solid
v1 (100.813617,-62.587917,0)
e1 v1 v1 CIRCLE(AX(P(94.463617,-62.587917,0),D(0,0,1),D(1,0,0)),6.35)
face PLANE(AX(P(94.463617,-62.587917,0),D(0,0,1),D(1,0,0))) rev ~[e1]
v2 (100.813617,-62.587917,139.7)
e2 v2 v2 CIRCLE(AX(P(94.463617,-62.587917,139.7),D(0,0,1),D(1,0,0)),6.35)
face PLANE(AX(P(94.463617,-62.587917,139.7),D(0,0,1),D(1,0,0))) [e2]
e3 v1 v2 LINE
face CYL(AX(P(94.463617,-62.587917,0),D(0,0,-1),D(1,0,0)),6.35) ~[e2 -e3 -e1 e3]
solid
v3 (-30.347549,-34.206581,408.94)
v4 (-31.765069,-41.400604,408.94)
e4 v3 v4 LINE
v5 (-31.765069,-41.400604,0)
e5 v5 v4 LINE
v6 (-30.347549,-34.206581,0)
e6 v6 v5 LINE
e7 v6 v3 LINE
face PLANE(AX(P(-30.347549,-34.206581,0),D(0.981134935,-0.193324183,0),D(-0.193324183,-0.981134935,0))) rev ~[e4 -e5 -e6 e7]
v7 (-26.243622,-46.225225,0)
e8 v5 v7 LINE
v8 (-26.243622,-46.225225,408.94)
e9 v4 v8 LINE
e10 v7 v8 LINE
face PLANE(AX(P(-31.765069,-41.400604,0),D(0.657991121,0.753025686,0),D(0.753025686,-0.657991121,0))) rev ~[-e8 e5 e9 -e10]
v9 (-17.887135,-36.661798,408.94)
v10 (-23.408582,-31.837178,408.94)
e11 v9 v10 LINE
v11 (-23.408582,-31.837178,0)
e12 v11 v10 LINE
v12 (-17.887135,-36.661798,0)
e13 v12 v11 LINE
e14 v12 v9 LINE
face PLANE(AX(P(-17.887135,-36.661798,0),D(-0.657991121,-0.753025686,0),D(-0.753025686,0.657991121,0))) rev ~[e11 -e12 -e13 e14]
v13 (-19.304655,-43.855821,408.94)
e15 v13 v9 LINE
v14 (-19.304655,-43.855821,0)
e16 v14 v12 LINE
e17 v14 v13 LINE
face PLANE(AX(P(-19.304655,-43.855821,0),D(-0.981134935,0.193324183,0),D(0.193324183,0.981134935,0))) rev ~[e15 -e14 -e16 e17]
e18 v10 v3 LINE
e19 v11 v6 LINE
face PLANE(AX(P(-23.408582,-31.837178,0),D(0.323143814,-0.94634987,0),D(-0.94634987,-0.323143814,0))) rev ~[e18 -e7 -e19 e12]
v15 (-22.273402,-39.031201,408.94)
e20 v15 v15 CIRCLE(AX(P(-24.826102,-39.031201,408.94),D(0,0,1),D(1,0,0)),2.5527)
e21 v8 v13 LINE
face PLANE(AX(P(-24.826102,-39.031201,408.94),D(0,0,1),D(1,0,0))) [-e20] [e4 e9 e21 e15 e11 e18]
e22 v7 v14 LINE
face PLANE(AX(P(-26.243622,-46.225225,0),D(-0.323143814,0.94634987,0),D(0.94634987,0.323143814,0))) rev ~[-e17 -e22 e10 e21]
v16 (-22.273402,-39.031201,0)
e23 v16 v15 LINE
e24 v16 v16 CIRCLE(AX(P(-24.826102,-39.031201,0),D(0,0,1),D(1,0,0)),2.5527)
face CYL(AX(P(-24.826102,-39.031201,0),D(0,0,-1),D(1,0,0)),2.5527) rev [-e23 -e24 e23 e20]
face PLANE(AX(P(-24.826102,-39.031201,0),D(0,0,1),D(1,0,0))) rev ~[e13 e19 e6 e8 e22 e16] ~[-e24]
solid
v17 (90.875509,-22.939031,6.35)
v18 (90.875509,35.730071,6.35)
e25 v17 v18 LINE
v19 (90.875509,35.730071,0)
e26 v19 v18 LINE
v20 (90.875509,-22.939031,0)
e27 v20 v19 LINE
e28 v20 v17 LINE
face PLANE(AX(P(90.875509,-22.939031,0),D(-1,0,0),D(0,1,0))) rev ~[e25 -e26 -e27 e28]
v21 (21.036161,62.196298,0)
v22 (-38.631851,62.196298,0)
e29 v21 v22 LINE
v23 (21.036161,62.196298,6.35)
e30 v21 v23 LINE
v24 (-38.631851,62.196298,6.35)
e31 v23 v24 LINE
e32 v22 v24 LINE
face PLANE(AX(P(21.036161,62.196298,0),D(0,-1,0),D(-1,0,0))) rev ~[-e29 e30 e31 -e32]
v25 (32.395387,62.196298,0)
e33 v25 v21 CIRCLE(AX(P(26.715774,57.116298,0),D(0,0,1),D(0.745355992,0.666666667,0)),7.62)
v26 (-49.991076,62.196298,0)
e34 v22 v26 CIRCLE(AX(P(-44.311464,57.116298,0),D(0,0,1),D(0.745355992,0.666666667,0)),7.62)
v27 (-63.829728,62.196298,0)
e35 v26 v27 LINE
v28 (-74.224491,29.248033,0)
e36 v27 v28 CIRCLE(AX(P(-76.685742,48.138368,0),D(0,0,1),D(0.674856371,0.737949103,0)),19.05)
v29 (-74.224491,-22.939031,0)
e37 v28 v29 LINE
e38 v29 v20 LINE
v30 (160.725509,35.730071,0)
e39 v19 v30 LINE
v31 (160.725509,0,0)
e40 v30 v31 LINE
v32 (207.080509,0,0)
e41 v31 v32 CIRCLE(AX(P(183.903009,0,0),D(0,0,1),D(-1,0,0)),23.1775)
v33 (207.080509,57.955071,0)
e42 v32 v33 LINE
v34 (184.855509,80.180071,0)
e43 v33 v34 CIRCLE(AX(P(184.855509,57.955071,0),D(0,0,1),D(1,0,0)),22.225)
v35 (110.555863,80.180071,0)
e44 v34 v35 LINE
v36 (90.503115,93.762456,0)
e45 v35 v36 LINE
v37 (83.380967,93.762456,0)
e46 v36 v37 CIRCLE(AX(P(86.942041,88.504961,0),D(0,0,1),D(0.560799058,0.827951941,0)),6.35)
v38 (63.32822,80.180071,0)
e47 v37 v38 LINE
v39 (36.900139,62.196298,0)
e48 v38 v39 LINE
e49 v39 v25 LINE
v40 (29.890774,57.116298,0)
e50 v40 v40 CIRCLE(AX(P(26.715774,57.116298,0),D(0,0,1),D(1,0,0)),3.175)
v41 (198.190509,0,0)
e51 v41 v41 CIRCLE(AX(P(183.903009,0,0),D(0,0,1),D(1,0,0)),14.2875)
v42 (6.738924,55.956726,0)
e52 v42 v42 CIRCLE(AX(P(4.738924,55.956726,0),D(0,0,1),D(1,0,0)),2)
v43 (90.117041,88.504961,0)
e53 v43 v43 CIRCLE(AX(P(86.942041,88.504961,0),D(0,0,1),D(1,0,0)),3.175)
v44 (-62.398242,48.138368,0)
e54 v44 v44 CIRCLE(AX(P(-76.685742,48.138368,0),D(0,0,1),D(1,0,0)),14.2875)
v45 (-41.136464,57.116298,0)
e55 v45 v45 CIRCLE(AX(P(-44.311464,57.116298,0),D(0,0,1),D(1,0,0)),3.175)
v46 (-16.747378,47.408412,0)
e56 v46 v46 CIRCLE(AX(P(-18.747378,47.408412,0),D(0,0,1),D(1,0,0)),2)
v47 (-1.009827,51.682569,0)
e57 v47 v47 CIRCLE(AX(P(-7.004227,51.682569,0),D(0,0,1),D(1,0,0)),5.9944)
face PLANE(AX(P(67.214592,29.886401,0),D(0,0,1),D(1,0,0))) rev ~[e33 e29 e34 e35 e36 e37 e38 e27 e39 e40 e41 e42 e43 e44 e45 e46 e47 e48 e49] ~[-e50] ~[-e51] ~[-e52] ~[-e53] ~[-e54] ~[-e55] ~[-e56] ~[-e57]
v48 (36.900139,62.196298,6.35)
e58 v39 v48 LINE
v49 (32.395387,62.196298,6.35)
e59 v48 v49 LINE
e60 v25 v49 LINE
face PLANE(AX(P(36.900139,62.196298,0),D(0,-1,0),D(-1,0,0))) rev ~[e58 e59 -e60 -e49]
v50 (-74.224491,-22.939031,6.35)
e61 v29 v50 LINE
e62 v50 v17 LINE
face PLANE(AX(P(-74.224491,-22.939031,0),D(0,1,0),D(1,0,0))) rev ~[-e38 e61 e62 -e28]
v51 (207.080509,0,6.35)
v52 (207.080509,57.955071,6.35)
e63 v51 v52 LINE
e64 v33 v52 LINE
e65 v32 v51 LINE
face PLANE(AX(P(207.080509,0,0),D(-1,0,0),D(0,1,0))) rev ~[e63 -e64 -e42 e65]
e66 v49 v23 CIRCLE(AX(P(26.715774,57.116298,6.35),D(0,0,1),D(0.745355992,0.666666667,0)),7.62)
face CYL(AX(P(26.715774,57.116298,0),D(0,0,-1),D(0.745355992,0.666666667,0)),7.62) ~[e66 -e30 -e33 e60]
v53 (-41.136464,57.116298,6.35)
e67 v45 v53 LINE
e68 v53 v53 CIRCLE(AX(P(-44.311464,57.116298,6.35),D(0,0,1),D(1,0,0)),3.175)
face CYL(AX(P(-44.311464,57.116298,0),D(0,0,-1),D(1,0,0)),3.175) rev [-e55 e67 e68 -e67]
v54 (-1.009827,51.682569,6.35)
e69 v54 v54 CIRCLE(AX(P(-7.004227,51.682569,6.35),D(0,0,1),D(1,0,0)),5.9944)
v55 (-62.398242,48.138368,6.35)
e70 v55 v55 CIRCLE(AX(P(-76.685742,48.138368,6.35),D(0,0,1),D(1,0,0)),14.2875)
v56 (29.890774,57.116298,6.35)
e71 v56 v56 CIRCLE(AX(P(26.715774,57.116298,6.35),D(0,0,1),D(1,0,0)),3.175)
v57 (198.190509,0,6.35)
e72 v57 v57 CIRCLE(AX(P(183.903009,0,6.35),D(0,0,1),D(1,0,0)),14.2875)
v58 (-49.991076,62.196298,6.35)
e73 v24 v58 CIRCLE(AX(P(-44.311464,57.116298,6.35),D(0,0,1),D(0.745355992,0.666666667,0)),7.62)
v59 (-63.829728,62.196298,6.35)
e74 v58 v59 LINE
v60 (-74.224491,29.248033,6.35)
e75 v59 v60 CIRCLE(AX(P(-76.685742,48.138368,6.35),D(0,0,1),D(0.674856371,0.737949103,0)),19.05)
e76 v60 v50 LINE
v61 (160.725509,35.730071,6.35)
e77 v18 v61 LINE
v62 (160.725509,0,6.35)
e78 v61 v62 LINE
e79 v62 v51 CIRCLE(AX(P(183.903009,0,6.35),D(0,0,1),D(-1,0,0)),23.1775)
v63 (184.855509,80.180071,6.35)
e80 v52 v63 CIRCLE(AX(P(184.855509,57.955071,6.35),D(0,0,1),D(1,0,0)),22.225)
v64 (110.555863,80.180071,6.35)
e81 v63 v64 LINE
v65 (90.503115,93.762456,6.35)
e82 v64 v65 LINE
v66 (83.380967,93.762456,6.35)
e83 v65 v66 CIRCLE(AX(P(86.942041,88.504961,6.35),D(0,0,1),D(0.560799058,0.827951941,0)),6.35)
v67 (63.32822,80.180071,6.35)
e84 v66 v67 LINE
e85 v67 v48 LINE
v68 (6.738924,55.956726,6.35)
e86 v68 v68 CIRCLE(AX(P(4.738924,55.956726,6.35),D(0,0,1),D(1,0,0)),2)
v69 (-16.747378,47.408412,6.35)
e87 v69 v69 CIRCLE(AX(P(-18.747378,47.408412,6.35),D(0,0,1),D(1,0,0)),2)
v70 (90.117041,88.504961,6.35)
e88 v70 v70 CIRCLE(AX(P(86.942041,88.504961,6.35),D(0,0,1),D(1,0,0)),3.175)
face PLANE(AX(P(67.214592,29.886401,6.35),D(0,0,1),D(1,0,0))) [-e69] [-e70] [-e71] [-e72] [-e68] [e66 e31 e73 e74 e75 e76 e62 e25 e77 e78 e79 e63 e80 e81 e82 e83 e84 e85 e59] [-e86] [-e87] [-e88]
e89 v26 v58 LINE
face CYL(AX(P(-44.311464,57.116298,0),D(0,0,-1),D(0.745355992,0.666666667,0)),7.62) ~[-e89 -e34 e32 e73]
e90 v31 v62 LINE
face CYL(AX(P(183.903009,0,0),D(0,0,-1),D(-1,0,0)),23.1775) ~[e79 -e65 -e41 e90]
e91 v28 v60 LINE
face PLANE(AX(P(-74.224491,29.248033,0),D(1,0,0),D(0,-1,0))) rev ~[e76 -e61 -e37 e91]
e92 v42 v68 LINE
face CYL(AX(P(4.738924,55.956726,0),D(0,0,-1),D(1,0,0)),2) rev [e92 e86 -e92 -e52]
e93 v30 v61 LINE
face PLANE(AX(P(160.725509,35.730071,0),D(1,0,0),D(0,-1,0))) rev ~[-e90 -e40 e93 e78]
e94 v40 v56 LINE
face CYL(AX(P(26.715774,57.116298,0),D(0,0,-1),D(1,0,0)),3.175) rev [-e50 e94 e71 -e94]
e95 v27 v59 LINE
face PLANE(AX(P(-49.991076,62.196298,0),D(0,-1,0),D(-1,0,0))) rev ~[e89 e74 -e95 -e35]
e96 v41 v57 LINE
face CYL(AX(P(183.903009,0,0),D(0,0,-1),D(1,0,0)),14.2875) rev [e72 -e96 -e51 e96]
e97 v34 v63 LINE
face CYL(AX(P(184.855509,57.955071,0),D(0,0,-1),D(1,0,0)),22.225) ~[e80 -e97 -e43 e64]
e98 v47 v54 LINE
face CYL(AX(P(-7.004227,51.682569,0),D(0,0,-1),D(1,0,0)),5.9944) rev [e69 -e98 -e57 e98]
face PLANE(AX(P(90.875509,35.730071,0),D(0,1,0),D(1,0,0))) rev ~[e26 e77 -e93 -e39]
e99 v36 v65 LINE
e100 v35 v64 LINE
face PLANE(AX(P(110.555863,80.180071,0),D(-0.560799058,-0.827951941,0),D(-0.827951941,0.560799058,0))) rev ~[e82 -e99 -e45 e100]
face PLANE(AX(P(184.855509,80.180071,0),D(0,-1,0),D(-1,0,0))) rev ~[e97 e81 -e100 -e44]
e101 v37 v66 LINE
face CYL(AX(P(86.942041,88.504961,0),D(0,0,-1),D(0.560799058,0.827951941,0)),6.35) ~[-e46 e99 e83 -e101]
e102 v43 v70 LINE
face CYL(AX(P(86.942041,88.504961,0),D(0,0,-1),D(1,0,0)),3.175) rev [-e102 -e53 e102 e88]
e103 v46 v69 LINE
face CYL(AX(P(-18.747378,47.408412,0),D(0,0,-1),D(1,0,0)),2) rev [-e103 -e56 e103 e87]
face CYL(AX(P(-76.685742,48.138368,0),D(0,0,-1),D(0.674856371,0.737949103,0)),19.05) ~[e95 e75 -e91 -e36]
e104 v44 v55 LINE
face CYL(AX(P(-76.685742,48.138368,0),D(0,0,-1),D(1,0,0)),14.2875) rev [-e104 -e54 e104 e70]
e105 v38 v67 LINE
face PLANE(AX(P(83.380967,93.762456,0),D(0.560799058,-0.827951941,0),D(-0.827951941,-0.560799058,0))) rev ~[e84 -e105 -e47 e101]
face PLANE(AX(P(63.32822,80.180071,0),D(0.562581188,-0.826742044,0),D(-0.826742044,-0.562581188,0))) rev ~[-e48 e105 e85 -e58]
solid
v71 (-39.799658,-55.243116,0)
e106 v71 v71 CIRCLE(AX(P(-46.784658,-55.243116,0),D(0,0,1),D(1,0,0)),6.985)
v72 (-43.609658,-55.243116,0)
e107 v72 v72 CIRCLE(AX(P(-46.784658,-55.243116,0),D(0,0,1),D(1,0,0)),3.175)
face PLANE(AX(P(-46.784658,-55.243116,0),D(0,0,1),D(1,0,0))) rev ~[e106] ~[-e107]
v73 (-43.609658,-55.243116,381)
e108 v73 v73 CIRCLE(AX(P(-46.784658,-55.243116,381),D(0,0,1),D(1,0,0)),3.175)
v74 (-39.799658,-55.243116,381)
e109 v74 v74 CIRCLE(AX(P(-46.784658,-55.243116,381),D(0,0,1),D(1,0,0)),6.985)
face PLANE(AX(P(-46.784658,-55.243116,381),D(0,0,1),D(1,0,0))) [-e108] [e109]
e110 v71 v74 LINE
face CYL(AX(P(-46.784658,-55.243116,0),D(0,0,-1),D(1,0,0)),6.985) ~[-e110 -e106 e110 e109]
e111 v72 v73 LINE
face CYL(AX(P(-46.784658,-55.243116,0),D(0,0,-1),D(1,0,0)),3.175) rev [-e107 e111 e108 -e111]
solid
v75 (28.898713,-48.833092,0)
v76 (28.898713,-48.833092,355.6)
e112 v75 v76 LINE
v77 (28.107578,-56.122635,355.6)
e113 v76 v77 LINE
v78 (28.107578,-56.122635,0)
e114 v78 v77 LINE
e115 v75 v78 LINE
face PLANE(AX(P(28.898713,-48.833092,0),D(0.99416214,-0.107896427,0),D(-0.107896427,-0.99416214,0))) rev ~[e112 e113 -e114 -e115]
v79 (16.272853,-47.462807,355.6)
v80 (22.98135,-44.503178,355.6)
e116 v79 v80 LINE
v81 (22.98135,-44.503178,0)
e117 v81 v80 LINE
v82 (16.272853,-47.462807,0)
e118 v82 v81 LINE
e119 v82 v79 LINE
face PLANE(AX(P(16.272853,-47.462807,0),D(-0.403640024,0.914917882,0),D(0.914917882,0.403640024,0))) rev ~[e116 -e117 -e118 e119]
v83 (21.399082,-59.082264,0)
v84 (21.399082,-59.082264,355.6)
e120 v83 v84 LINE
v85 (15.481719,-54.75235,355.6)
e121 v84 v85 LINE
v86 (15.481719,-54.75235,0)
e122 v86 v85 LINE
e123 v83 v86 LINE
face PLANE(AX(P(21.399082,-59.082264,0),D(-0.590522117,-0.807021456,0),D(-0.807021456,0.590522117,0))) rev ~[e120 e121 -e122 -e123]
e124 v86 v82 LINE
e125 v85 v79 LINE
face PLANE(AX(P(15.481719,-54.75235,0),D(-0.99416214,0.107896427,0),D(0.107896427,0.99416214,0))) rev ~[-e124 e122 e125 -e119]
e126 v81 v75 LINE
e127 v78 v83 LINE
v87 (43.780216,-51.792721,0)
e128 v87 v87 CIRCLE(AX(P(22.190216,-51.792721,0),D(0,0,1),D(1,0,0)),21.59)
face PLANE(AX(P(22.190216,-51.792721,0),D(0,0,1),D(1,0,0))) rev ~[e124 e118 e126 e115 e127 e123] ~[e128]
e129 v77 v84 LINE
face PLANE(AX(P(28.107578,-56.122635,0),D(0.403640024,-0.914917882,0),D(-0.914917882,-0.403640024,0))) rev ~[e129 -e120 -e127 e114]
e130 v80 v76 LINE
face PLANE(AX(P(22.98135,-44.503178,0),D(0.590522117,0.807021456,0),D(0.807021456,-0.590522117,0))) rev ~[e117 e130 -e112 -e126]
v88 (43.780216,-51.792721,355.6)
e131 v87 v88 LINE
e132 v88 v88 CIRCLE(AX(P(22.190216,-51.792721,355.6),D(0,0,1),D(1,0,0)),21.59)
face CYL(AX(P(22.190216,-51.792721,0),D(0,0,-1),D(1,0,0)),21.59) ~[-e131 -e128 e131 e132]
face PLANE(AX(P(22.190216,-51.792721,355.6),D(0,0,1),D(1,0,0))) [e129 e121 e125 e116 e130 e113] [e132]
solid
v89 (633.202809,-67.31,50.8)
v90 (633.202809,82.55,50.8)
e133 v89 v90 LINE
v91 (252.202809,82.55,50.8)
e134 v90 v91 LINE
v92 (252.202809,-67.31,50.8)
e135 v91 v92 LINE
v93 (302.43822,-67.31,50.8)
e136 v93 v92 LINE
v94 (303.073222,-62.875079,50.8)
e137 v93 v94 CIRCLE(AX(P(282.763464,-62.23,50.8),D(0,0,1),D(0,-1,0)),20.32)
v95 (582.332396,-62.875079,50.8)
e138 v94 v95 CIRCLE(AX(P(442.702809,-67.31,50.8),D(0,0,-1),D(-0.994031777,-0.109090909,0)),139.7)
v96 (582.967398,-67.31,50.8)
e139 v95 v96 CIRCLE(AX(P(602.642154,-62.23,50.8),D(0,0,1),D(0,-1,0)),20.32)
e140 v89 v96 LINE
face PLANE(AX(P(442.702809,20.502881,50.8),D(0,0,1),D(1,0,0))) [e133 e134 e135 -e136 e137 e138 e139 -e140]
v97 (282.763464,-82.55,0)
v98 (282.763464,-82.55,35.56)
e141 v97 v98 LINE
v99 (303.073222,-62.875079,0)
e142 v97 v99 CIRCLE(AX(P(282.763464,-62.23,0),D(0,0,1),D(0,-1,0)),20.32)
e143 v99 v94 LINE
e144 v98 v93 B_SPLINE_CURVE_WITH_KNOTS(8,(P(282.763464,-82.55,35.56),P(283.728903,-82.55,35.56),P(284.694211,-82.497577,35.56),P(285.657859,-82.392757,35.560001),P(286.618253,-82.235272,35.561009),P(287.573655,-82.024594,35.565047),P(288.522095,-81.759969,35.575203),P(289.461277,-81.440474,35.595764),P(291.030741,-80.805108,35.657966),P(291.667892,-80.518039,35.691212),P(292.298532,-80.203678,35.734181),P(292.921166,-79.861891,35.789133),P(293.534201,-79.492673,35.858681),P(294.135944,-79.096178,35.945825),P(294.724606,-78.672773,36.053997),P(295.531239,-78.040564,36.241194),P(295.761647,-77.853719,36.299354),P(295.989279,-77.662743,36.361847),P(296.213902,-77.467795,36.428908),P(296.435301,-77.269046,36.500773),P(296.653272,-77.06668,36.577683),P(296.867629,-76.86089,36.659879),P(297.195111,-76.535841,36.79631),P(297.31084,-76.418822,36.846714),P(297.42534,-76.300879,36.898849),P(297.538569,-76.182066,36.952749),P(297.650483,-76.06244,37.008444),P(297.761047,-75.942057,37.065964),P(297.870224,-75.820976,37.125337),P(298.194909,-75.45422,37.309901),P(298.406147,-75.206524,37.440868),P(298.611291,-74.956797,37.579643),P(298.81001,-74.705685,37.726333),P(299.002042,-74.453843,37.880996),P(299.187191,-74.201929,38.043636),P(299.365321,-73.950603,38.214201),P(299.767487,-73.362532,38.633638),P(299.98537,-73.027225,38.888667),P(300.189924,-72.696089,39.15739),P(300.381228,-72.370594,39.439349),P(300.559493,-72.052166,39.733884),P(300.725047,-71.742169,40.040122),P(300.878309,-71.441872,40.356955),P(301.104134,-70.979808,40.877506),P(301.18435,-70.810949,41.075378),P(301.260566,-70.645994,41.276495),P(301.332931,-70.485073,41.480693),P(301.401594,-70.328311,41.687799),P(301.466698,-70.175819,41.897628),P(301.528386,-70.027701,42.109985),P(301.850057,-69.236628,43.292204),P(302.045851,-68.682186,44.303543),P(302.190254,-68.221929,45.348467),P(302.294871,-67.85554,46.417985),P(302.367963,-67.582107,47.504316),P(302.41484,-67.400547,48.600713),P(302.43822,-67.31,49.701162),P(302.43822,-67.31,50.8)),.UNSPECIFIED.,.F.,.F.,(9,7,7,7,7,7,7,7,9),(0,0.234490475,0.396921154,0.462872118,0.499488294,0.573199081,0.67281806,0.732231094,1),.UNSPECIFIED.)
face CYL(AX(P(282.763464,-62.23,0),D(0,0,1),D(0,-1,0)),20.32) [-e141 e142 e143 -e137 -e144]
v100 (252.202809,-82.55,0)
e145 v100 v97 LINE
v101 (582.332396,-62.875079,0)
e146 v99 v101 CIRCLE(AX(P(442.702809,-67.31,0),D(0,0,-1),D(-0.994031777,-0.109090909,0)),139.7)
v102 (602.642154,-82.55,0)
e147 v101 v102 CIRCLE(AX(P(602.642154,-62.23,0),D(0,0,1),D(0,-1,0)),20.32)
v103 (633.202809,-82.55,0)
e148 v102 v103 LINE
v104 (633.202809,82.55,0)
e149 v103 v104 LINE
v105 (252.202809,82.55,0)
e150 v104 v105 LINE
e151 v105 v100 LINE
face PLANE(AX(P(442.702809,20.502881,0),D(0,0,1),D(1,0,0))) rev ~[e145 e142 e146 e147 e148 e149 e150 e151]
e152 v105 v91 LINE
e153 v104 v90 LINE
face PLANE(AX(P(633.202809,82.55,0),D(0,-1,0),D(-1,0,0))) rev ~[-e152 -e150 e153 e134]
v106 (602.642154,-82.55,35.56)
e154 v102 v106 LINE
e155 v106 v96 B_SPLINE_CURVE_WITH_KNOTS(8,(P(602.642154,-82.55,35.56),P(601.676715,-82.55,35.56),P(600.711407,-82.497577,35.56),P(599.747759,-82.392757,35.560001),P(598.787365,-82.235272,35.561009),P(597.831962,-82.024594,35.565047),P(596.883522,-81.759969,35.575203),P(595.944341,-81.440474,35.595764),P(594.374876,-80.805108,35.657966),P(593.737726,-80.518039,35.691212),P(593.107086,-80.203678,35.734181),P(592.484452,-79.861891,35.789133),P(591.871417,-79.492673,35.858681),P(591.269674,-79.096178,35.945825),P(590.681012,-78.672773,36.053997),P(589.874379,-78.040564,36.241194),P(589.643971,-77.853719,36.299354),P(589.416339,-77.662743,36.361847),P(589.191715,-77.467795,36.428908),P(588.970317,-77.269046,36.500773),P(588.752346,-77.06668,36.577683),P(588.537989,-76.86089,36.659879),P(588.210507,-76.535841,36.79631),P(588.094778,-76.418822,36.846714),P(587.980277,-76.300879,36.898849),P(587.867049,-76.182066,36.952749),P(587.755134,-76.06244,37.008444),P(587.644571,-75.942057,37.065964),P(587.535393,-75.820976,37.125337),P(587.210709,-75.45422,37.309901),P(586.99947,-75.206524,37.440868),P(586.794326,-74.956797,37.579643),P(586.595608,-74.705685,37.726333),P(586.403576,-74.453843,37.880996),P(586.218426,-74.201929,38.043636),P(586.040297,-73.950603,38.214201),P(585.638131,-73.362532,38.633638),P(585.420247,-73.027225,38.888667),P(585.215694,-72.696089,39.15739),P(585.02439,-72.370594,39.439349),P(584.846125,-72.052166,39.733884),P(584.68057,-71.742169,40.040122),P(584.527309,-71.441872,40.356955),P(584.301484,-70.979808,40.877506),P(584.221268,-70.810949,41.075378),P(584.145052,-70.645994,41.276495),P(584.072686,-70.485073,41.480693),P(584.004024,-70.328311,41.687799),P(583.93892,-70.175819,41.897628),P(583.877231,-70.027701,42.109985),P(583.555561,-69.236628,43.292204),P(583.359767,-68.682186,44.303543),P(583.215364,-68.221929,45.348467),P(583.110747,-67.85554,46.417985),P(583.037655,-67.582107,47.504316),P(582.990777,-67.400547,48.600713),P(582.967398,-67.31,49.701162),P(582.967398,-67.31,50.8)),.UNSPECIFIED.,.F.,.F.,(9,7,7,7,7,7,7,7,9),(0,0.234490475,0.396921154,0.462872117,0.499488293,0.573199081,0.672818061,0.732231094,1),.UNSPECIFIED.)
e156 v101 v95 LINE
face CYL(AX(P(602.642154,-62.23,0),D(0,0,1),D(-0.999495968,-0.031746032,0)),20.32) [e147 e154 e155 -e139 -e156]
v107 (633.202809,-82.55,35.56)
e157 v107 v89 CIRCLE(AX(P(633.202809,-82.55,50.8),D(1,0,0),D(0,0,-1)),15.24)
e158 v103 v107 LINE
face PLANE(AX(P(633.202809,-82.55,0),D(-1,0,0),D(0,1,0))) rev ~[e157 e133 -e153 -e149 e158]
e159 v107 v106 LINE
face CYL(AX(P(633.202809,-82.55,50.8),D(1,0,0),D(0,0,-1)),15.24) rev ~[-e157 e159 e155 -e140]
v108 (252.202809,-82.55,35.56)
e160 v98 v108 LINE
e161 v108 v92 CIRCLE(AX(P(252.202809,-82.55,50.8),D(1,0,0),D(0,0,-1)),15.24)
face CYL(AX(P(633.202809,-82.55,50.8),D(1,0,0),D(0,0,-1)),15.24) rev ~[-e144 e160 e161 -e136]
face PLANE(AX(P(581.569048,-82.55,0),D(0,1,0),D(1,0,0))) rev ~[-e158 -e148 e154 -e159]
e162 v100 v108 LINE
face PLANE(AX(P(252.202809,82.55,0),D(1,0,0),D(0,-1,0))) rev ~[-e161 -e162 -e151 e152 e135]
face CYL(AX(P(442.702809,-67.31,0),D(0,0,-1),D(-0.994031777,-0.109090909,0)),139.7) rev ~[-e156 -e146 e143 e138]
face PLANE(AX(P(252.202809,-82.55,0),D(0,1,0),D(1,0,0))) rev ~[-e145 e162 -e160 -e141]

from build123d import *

# Parameters (mm, degrees)
F1_R      = 14.2875
F1_R_2    = 3.175
F1_R_3    = 2
F1_R_4    = 5.9944
F2_DEPTH  = 6.35
F3_R      = 6.985
F3_R_2    = 3.175
F4_DEPTH  = 381
F5_R      = 2.5527
F6_DEPTH  = 408.94
F7_R      = 21.59
F8_DEPTH  = 355.6
F10_DEPTH = 50.8
F11_R     = 20.32
F13_DEPTH = 381
F14_R     = 6.35
F15_DEPTH = 139.7


with BuildPart() as f2:
    # F1 (on Top) → F2 (new body)
    with BuildSketch(Plane.XY):
        with BuildLine():
            Line((-49.9910764957, 62.1962980512), (-63.8297284243, 62.1962980512))
            ThreePointArc((-63.8297284243, 62.1962980512), (-94.8530671804, 53.8699299137), (-74.2244912377, 29.2480329821))
            Line((-74.2244912377, 29.2480329821), (-74.2244912377, -22.9390313281))
            Line((-74.2244912377, -22.9390313281), (90.8755087623, -22.9390313281))
            Line((90.8755087623, -22.9390313281), (90.8755087623, 35.7300707037))
            Line((90.8755087623, 35.7300707037), (160.7255087623, 35.7300707037))
            Line((160.7255087623, 35.7300707037), (160.7255087623, 0))
            ThreePointArc((160.7255087623, 0), (183.9030087623, -23.1775), (207.0805087623, 0))
            Line((207.0805087623, 0), (207.0805087623, 57.9550707037))
            ThreePointArc((207.0805087623, 57.9550707037), (200.5709569742, 73.6705189156), (184.8555087623, 80.1800707037))
            Line((184.8555087623, 80.1800707037), (110.5558629778, 80.1800707037))
            Line((110.5558629778, 80.1800707037), (90.5031153064, 93.7624556725))
            ThreePointArc((90.5031153064, 93.7624556725), (86.9420412896, 94.8549608464), (83.3809672727, 93.7624556725))
            Line((83.3809672727, 93.7624556725), (63.3282196013, 80.1800707037))
            Line((63.3282196013, 80.1800707037), (36.9001390489, 62.1962980512))
            Line((36.9001390489, 62.1962980512), (32.3953867519, 62.1962980512))
            ThreePointArc((32.3953867519, 62.1962980512), (26.7157740891, 64.7362980512), (21.0361614262, 62.1962980512))
            Line((21.0361614262, 62.1962980512), (-38.63185117, 62.1962980512))
            ThreePointArc((-38.63185117, 62.1962980512), (-44.3114638329, 64.7362980512), (-49.9910764957, 62.1962980512))
        make_face()
        with Locations((183.9030087623, 0)):
            Circle(F1_R, mode=Mode.SUBTRACT)
        with Locations((-76.6857422854, 48.1383676345)):
            Circle(F1_R, mode=Mode.SUBTRACT)
        with Locations((-44.3114638329, 57.1162980512)):
            Circle(F1_R_2, mode=Mode.SUBTRACT)
        with Locations((-18.747377767, 47.4084117594)):
            Circle(F1_R_3, mode=Mode.SUBTRACT)
        with Locations((-7.0042270236, 51.6825690866)):
            Circle(F1_R_4, mode=Mode.SUBTRACT)
        with Locations((4.7389237199, 55.9567264137)):
            Circle(F1_R_3, mode=Mode.SUBTRACT)
        with Locations((26.7157740891, 57.1162980512)):
            Circle(F1_R_2, mode=Mode.SUBTRACT)
        with Locations((86.9420412896, 88.5049608464)):
            Circle(F1_R_2, mode=Mode.SUBTRACT)
    extrude(amount=F2_DEPTH)


with BuildPart() as f4:
    # F3 (on Top) → F4 (new body)
    with BuildSketch(Plane.XY):
        with Locations((-46.784657985, -55.2431158721)):
            Circle(F3_R)
        with Locations((-46.784657985, -55.2431158721)):
            Circle(F3_R_2, mode=Mode.SUBTRACT)
    extrude(amount=F4_DEPTH)


with BuildPart() as f6:
    # F5 (on Top) → F6 (new body)
    with BuildSketch(Plane.XY):
        Polygon((-26.2436224322, -46.2252245101), (-19.3046554622, -43.8558214793), (-17.8871351937, -36.6617982918), (-23.4085818952, -31.8371781352), (-30.3475488653, -34.206581166), (-31.7650691337, -41.4006043535), align=None)
        with Locations((-24.8261021637, -39.0312013227)):
            Circle(F5_R, mode=Mode.SUBTRACT)
    extrude(amount=F6_DEPTH)


with BuildPart() as f8:
    # F7 (on Top) → F8 (new body)
    with BuildSketch(Plane.XY):
        with Locations((22.1902159048, -51.7927211475)):
            Circle(F7_R)
        Polygon((28.8987125921, -48.8330918581), (28.1075783988, -56.1226350552), (21.3990817115, -59.0822643445), (15.4817192176, -54.7523504368), (16.2728534109, -47.4628072397), (22.9813500981, -44.5031779504), align=None, mode=Mode.SUBTRACT)
    extrude(amount=F8_DEPTH)


with BuildPart() as f10:
    # F9 (on Top) → F10 (new body)
    with BuildSketch(Plane.XY):
        with BuildLine():
            Line((633.202808857, 82.55), (252.202808857, 82.55))
            Line((252.202808857, 82.55), (252.202808857, -82.55))
            Line((252.202808857, -82.55), (303.8365696193, -82.55))
            ThreePointArc((303.8365696193, -82.55), (442.702808857, 72.39), (581.5690480946, -82.55))
            Line((581.5690480946, -82.55), (633.202808857, -82.55))
            Line((633.202808857, -82.55), (633.202808857, 82.55))
        make_face()
    extrude(amount=F10_DEPTH)

    # F11
    f11_edges = [f10.edges().sort_by_distance(p)[0] for p in [
        (303.83657, -82.55, 25.4),
        (581.569048, -82.55, 25.4),
    ]]
    fillet(f11_edges, radius=F11_R)

    # F12 (on face) → F13 (cut, through all)
    with BuildSketch(Plane.YZ.offset(633.202808857)):
        with BuildLine():
            Line((-82.55, 50.8), (-82.55, 35.56))
            ThreePointArc((-82.55, 35.56), (-71.7736926547, 40.0236926547), (-67.31, 50.8))
            Line((-67.31, 50.8), (-82.55, 50.8))
        make_face()
    extrude(amount=-F13_DEPTH, mode=Mode.SUBTRACT)


with BuildPart() as f15:
    # F14 (on Top) → F15 (new body)
    with BuildSketch(Plane.XY):
        with Locations((94.4636166096, -62.587916851)):
            Circle(F14_R)
    extrude(amount=F15_DEPTH)


solid = Compound([f2.part, f4.part, f6.part, f8.part, f10.part, f15.part])
